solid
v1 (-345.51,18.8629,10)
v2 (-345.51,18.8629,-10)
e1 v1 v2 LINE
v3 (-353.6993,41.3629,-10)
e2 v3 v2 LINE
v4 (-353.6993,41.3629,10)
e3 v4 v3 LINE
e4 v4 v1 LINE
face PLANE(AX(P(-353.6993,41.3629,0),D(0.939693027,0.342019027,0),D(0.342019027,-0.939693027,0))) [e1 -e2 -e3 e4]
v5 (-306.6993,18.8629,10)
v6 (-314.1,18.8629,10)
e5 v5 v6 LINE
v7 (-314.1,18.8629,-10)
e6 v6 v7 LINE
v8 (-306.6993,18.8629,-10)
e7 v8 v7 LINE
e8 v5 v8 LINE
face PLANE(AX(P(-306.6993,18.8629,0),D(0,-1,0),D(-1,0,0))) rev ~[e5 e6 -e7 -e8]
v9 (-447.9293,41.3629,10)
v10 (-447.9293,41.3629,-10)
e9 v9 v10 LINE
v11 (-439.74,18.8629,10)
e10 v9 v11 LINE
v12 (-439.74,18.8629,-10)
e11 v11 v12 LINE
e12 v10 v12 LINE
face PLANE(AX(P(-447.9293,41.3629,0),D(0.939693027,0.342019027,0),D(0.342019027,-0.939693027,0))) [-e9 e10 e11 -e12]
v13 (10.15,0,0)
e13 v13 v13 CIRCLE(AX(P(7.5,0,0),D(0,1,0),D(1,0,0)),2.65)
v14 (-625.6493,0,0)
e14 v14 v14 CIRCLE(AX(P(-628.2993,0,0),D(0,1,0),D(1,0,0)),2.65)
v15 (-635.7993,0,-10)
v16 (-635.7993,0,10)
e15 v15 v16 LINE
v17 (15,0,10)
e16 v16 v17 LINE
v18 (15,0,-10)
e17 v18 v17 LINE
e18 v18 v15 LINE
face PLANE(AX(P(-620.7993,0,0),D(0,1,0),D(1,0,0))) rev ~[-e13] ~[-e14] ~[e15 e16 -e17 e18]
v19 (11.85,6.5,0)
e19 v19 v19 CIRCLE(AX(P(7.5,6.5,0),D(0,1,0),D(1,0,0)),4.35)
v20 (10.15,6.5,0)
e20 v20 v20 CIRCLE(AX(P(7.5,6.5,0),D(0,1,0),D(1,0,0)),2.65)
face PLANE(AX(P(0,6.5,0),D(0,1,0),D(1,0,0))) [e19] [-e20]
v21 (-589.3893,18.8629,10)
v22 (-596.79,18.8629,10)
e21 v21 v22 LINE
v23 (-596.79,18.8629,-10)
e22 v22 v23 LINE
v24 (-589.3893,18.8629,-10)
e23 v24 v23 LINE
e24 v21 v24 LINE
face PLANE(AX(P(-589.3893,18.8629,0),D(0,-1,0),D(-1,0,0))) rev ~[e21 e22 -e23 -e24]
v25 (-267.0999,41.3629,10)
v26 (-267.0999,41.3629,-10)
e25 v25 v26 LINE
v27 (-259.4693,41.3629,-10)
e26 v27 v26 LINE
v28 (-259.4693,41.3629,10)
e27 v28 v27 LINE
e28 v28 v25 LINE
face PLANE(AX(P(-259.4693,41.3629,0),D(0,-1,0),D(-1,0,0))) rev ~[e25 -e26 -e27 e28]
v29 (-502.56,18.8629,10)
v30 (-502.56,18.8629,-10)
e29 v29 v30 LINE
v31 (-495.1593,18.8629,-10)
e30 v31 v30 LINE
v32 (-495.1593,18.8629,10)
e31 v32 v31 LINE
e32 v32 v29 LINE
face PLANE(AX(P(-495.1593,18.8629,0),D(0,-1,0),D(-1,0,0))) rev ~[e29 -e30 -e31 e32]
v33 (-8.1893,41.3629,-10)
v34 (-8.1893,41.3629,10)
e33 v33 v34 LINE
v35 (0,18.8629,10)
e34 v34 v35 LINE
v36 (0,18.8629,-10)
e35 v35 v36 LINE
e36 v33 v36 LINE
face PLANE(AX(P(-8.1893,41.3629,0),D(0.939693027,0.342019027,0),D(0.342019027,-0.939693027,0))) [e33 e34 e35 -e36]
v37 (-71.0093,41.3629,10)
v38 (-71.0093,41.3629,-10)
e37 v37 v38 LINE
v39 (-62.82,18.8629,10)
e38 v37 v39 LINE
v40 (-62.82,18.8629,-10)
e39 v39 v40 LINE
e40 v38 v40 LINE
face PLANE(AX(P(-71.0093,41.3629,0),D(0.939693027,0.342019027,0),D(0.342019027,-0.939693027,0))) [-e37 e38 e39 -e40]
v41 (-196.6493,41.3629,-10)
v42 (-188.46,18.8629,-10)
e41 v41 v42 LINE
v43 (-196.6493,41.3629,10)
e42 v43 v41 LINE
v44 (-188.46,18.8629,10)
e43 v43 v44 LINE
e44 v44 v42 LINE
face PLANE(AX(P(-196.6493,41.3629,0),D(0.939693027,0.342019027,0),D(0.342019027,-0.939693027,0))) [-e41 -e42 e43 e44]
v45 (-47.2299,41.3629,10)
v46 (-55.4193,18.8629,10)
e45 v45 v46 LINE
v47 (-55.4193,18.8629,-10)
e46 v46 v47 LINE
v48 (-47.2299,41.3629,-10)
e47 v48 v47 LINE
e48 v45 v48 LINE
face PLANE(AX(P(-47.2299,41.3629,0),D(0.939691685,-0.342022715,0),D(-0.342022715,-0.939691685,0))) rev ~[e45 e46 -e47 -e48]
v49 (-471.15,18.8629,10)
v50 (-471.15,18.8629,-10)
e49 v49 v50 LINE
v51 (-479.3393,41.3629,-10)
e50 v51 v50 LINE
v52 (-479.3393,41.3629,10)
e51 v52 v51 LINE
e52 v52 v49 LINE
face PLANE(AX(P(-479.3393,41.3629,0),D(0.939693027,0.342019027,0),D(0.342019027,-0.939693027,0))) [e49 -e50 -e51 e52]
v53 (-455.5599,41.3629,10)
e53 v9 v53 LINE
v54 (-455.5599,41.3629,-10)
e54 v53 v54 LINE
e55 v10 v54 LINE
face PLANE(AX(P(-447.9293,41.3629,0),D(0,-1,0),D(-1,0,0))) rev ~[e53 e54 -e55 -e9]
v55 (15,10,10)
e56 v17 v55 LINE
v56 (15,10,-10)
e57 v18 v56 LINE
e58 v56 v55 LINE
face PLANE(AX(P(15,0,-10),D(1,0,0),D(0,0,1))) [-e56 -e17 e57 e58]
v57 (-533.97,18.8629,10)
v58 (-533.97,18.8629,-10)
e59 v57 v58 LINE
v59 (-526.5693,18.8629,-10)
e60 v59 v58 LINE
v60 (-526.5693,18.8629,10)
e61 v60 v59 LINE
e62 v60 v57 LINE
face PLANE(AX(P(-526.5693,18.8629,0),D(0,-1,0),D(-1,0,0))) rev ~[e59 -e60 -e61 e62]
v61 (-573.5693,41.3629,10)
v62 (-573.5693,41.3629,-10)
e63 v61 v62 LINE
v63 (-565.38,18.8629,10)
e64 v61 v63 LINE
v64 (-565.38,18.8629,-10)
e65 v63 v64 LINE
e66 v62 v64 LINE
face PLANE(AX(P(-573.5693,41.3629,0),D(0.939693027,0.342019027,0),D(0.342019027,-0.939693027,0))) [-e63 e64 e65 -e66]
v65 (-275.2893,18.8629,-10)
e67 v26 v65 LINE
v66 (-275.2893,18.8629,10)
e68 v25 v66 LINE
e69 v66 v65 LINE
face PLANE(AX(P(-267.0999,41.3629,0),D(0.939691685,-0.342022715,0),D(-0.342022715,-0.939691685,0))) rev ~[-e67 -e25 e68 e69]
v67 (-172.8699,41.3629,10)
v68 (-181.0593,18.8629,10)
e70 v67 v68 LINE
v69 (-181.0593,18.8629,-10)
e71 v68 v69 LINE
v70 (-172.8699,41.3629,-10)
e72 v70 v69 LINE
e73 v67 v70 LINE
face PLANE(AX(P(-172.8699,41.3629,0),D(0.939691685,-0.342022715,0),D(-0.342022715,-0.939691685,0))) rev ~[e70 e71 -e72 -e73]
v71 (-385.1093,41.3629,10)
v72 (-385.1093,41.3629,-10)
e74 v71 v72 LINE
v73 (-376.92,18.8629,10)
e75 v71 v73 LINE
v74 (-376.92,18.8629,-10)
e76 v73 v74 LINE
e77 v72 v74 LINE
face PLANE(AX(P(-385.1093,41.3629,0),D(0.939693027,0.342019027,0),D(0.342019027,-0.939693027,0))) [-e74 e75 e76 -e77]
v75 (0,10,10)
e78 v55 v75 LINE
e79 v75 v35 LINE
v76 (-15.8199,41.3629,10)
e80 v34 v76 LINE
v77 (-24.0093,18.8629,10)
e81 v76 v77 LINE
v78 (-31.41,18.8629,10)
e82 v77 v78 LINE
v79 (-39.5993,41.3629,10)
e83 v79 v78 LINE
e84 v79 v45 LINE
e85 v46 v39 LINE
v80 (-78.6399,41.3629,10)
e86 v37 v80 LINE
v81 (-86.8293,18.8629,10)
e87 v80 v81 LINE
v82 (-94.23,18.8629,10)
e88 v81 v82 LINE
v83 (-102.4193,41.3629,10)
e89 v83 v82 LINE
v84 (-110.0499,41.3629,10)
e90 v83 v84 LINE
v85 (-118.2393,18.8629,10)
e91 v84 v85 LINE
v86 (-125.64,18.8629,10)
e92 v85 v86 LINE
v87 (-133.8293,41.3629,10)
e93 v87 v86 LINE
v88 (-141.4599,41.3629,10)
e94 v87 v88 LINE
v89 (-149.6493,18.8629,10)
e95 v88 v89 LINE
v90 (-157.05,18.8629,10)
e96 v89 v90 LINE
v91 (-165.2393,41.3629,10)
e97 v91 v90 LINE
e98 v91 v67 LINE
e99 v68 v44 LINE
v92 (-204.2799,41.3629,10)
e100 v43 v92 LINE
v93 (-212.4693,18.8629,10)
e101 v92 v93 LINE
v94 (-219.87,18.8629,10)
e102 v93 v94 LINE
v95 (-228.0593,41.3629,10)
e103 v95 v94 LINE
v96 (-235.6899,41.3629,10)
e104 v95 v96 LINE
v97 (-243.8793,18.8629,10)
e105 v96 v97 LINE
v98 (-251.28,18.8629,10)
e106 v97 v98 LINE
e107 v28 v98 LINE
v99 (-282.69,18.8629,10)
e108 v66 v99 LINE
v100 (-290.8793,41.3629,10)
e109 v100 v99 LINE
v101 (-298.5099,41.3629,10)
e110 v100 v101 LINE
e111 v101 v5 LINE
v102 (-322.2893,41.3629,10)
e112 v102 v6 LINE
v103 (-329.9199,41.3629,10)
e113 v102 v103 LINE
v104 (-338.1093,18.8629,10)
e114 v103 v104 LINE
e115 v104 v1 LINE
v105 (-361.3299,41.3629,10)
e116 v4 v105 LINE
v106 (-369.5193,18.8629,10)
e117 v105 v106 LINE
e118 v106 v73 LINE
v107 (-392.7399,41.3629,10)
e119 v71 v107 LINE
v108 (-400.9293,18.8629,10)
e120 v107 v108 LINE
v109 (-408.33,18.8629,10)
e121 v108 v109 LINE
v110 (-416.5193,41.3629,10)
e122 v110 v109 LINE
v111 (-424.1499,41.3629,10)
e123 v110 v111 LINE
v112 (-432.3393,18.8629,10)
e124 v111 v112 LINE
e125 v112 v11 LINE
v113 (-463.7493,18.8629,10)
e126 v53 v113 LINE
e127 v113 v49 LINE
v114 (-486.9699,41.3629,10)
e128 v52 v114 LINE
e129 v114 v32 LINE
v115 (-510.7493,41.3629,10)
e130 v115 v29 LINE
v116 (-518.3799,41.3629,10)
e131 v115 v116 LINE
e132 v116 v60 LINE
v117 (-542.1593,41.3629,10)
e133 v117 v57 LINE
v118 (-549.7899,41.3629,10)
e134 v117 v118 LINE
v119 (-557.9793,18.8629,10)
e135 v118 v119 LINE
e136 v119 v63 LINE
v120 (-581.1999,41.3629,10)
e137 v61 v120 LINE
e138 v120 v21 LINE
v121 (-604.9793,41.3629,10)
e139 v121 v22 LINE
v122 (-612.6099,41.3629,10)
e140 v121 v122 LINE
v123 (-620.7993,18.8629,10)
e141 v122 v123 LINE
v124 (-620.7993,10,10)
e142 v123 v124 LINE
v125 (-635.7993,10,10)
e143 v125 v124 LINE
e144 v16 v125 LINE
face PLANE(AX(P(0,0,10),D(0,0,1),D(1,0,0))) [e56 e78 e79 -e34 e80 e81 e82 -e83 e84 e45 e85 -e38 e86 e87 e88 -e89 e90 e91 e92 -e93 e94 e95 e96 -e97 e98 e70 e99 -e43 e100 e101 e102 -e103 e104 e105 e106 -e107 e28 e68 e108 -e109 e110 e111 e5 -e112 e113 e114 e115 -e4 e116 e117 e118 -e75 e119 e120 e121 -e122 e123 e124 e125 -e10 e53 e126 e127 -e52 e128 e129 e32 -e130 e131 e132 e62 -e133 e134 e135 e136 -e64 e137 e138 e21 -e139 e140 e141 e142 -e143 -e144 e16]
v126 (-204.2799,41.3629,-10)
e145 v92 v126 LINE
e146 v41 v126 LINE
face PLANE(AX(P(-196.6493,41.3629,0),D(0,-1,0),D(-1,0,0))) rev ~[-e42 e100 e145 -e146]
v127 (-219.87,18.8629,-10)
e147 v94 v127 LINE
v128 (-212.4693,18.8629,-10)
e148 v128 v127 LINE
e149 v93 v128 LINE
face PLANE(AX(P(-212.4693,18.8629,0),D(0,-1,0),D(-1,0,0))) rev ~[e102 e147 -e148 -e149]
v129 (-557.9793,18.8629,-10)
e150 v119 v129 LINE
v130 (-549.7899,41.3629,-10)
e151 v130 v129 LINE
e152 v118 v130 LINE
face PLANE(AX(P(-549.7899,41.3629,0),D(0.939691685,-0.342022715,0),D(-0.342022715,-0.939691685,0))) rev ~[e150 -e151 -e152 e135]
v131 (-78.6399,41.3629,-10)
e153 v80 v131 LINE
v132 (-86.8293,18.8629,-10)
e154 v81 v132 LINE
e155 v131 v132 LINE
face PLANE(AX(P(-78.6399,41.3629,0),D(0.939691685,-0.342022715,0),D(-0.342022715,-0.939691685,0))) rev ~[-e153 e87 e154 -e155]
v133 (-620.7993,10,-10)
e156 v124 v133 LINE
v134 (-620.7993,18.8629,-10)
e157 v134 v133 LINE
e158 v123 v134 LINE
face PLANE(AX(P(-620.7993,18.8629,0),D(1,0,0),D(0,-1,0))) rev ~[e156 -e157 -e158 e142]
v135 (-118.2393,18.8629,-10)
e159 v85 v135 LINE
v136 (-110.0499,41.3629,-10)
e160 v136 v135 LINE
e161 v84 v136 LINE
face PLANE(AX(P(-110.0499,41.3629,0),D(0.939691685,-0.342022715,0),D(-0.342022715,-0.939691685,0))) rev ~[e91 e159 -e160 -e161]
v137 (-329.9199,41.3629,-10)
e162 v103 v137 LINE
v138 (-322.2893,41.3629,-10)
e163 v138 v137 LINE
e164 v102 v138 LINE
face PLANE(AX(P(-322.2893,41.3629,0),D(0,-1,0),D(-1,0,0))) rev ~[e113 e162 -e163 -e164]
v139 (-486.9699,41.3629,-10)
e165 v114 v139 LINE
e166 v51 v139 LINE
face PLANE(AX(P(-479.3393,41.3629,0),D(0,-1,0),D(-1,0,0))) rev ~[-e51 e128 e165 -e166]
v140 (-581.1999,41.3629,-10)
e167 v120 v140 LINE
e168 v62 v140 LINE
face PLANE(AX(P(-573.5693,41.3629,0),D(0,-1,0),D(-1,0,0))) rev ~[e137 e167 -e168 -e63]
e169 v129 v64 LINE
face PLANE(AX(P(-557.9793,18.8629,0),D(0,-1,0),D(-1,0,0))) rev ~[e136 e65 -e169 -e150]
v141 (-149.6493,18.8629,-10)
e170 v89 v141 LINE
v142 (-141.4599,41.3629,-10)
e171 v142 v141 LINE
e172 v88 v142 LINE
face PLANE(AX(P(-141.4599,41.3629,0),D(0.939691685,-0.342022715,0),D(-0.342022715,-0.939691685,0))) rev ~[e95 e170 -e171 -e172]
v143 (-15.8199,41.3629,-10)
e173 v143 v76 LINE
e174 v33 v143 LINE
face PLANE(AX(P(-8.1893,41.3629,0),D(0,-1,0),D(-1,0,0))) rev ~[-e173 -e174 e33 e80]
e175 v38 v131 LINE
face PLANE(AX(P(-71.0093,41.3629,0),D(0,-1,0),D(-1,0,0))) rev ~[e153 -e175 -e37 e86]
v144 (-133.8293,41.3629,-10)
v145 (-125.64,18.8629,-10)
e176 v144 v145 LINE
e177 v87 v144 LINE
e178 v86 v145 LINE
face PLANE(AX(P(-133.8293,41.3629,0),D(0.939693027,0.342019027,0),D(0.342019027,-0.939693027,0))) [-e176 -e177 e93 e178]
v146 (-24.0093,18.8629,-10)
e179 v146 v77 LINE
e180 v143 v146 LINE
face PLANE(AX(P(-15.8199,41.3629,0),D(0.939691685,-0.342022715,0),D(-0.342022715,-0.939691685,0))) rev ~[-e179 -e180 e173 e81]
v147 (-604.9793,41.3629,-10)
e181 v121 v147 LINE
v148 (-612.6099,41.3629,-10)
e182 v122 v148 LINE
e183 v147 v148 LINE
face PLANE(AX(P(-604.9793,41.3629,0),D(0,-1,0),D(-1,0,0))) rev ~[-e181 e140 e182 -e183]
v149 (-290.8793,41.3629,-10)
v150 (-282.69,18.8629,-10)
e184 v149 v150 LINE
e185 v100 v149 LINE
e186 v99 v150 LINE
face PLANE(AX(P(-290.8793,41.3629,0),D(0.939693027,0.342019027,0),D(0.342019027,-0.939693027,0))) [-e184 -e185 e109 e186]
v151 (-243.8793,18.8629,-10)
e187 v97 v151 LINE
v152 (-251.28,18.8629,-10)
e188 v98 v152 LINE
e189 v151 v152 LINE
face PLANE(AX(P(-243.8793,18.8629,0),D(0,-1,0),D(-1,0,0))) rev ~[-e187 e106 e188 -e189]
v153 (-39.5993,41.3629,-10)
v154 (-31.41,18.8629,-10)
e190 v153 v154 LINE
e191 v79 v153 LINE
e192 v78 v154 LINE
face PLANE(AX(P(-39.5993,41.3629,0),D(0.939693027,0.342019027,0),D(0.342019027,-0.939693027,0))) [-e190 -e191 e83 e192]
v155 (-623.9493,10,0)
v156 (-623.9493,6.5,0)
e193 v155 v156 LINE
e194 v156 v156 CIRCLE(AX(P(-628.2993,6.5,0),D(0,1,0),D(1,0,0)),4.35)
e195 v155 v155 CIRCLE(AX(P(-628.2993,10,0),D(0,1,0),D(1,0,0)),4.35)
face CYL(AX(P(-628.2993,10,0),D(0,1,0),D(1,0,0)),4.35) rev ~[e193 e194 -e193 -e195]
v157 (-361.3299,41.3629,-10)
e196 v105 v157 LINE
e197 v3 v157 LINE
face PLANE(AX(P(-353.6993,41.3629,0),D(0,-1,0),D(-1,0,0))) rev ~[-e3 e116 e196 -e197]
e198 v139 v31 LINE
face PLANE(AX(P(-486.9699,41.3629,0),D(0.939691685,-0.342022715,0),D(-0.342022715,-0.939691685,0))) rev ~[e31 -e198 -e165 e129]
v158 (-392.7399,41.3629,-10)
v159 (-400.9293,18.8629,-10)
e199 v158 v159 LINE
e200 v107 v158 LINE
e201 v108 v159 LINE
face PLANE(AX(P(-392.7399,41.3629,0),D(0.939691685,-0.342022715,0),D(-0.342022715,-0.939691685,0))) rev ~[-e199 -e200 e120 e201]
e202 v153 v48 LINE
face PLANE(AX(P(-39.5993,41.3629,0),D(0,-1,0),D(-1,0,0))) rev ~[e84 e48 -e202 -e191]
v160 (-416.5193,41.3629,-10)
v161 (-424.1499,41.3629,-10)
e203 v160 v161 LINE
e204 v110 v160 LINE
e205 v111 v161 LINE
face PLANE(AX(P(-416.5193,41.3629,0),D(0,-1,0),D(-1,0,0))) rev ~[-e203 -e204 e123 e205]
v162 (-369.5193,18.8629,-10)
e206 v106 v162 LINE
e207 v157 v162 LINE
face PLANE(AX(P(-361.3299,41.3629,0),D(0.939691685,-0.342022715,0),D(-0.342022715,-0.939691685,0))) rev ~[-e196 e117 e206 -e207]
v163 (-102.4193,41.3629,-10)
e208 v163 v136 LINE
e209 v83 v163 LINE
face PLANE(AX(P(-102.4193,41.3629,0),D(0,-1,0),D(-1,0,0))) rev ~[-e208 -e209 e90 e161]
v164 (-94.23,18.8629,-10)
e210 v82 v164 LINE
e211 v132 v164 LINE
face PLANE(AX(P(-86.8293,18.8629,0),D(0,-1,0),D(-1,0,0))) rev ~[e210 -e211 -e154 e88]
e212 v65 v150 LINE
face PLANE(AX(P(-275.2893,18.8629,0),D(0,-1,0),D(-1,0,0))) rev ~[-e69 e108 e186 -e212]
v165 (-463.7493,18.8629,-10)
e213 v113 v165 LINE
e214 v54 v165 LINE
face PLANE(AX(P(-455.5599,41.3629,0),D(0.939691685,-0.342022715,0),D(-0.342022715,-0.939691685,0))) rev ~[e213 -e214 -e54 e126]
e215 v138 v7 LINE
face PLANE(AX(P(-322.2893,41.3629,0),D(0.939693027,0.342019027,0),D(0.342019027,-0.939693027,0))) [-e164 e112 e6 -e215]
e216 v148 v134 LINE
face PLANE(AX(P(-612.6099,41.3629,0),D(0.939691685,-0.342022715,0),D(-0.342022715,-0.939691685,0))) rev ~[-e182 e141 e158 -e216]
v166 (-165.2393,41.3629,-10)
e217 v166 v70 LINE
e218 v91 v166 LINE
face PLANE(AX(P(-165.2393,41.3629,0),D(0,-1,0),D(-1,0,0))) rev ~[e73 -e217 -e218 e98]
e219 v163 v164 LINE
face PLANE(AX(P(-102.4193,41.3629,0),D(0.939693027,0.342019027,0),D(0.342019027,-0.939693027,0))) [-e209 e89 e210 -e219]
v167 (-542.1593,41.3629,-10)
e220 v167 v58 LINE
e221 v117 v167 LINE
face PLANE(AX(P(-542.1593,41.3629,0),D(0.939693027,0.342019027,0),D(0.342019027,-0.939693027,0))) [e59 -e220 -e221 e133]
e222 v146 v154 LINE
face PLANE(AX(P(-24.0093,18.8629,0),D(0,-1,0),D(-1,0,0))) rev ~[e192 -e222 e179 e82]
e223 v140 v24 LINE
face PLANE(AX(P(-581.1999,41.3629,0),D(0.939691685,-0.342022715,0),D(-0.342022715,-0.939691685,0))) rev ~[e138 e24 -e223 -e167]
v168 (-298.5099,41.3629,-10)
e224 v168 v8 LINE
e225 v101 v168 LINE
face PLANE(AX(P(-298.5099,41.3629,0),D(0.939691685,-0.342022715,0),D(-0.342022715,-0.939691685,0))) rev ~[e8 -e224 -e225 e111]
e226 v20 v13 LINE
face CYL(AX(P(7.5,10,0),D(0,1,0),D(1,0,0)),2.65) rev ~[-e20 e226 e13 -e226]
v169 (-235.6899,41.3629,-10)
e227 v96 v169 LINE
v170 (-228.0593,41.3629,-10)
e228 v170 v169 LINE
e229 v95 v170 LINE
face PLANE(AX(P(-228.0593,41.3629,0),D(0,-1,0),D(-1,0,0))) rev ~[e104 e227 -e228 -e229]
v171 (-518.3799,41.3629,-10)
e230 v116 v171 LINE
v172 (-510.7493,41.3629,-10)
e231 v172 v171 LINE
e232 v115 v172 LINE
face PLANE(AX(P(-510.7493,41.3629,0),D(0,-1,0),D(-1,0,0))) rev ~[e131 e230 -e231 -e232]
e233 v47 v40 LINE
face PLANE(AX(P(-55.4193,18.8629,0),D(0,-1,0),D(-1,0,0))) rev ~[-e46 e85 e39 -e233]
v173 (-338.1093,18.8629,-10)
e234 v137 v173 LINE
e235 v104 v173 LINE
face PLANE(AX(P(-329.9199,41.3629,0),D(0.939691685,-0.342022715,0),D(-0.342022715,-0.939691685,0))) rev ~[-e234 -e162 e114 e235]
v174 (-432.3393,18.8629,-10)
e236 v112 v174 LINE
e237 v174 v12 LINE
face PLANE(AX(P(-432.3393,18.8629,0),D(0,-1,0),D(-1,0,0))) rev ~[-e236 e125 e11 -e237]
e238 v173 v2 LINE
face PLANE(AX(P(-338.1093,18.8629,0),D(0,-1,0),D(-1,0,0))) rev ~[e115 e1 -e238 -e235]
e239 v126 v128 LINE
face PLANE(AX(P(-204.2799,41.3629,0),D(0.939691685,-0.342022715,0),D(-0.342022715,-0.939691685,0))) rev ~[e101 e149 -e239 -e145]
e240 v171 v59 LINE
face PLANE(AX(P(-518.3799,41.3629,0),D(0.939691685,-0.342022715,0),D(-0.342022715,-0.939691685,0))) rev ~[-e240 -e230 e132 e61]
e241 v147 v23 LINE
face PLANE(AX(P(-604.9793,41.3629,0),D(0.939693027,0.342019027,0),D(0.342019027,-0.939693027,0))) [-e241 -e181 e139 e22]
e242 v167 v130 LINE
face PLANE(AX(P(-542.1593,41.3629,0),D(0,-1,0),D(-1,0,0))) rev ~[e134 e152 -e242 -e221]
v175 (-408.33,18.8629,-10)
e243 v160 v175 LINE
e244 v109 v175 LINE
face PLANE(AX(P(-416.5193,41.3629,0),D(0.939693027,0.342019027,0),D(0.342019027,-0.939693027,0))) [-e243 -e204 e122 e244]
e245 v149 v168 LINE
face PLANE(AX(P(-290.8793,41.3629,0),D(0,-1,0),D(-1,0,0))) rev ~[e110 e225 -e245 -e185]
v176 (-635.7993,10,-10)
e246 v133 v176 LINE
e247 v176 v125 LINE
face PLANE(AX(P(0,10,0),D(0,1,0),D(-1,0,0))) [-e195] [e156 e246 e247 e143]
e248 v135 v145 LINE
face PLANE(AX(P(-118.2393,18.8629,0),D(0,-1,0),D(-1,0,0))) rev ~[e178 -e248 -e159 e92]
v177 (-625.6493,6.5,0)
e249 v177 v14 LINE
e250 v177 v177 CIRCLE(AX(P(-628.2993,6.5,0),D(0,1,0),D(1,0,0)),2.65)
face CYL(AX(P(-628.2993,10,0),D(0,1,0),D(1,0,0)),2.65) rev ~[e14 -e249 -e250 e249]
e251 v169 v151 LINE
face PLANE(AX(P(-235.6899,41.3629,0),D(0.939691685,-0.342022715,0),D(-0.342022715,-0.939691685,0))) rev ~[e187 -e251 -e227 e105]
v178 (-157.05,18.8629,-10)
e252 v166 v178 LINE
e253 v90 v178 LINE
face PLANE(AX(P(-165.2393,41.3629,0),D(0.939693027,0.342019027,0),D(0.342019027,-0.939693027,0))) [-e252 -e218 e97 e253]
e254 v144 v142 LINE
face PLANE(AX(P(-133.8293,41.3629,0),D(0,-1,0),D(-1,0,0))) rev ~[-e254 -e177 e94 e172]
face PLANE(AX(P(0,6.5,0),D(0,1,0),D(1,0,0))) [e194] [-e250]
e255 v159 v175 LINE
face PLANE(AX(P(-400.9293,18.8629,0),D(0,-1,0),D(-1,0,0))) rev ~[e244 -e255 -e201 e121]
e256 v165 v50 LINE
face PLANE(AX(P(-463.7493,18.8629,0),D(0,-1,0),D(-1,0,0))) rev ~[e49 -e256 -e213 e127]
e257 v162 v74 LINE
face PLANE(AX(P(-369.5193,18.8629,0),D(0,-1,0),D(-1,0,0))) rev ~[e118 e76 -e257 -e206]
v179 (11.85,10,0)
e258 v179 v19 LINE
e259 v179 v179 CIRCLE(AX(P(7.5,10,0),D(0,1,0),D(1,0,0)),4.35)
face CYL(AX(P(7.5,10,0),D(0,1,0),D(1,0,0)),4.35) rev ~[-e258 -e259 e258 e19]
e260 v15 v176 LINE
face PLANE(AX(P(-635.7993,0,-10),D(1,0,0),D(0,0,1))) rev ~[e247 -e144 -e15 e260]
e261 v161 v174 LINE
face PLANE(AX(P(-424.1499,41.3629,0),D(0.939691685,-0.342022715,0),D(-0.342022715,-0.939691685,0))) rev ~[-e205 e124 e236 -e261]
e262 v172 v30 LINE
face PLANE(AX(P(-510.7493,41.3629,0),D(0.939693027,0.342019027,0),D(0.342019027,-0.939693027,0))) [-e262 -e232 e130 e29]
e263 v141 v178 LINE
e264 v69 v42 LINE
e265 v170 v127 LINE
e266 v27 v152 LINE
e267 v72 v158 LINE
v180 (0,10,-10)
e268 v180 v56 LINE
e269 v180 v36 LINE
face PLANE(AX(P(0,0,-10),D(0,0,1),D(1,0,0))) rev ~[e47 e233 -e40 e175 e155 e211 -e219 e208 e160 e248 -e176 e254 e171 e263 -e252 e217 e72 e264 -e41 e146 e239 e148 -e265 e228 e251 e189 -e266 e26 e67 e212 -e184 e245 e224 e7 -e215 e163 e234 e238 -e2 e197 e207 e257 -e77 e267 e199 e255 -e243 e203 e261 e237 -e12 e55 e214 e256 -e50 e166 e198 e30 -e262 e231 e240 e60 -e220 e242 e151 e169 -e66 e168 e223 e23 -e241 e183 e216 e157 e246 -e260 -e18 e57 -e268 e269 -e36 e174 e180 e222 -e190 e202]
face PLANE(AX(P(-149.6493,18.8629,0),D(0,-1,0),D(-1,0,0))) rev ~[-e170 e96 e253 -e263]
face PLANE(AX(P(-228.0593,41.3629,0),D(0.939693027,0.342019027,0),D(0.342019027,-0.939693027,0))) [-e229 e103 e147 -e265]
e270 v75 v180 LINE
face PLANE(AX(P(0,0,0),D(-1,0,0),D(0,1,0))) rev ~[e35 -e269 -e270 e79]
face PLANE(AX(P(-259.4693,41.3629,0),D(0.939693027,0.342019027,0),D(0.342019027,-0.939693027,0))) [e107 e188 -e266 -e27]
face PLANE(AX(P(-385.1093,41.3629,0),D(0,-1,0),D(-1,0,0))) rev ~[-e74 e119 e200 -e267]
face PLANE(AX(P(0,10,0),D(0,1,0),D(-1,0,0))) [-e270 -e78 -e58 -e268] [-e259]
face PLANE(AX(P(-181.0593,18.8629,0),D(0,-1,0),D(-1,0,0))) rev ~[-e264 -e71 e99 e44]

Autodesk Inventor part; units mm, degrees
ref_plane "YZ Plane" through (0, 0, 0) normal (1, 0, 0) x (0, 1, 0)
ref_plane "XZ Plane" through (0, 0, 0) normal (0, 1, 0) x (-1, 0, 0)
ref_plane "XY Plane" through (0, 0, 0) normal (0, 0, 1) x (1, 0, 0)
sketch "Sketch1" plane through (0, 0, 0) normal (0, 0, 1) x (1, 0, 0)
  line L0 (-8.1893, 41.3629) -> (-15.8199, 41.3629)
  line L1 (-8.1893, 41.3629) -> (0, 18.8629)
  line L2 (-8.1893, 41.3629) -> (26.4246, 41.3629) construction
  line L3 (-4.5496, 31.3629) -> (-19.4596, 31.3629) construction
  line L4 (-12.0046, 31.3629) -> (-12.0046, 41.3629) construction
  line L5 (-15.8199, 41.3629) -> (-24.0093, 18.8629)
  line L6 (-39.5993, 41.3629) -> (-47.2299, 41.3629)
  line L7 (-39.5993, 41.3629) -> (-31.41, 18.8629)
  line L8 (-39.5993, 41.3629) -> (-4.9854, 41.3629) construction
  line L9 (-35.9596, 31.3629) -> (-50.8696, 31.3629) construction
  line L10 (-43.4146, 31.3629) -> (-43.4146, 41.3629) construction
  line L11 (-47.2299, 41.3629) -> (-55.4193, 18.8629)
  line L12 (-71.0093, 41.3629) -> (-78.6399, 41.3629)
  line L13 (-71.0093, 41.3629) -> (-62.82, 18.8629)
  line L14 (-71.0093, 41.3629) -> (-36.3954, 41.3629) construction
  line L15 (-67.3696, 31.3629) -> (-82.2796, 31.3629) construction
  line L16 (-74.8246, 31.3629) -> (-74.8246, 41.3629) construction
  line L17 (-78.6399, 41.3629) -> (-86.8293, 18.8629)
  line L18 (-102.4193, 41.3629) -> (-110.0499, 41.3629)
  line L19 (-102.4193, 41.3629) -> (-94.23, 18.8629)
  line L20 (-102.4193, 41.3629) -> (-67.8054, 41.3629) construction
  line L21 (-98.7796, 31.3629) -> (-113.6896, 31.3629) construction
  line L22 (-106.2346, 31.3629) -> (-106.2346, 41.3629) construction
  line L23 (-110.0499, 41.3629) -> (-118.2393, 18.8629)
  line L24 (-133.8293, 41.3629) -> (-141.4599, 41.3629)
  line L25 (-133.8293, 41.3629) -> (-125.64, 18.8629)
  line L26 (-133.8293, 41.3629) -> (-99.2154, 41.3629) construction
  line L27 (-130.1896, 31.3629) -> (-145.0996, 31.3629) construction
  line L28 (-137.6446, 31.3629) -> (-137.6446, 41.3629) construction
  line L29 (-141.4599, 41.3629) -> (-149.6493, 18.8629)
  line L30 (-165.2393, 41.3629) -> (-172.8699, 41.3629)
  line L31 (-165.2393, 41.3629) -> (-157.05, 18.8629)
  line L32 (-165.2393, 41.3629) -> (-130.6254, 41.3629) construction
  line L33 (-161.5996, 31.3629) -> (-176.5096, 31.3629) construction
  line L34 (-169.0546, 31.3629) -> (-169.0546, 41.3629) construction
  line L35 (-172.8699, 41.3629) -> (-181.0593, 18.8629)
  line L36 (-196.6493, 41.3629) -> (-204.2799, 41.3629)
  line L37 (-196.6493, 41.3629) -> (-188.46, 18.8629)
  line L38 (-196.6493, 41.3629) -> (-162.0354, 41.3629) construction
  line L39 (-193.0096, 31.3629) -> (-207.9196, 31.3629) construction
  line L40 (-200.4646, 31.3629) -> (-200.4646, 41.3629) construction
  line L41 (-204.2799, 41.3629) -> (-212.4693, 18.8629)
  line L42 (-228.0593, 41.3629) -> (-235.6899, 41.3629)
  line L43 (-228.0593, 41.3629) -> (-219.87, 18.8629)
  line L44 (-228.0593, 41.3629) -> (-193.4454, 41.3629) construction
  line L45 (-224.4196, 31.3629) -> (-239.3296, 31.3629) construction
  line L46 (-231.8746, 31.3629) -> (-231.8746, 41.3629) construction
  line L47 (-235.6899, 41.3629) -> (-243.8793, 18.8629)
  line L48 (-259.4693, 41.3629) -> (-267.0999, 41.3629)
  line L49 (-259.4693, 41.3629) -> (-251.28, 18.8629)
  line L50 (-259.4693, 41.3629) -> (-224.8554, 41.3629) construction
  line L51 (-255.8296, 31.3629) -> (-270.7396, 31.3629) construction
  line L52 (-263.2846, 31.3629) -> (-263.2846, 41.3629) construction
  line L53 (-267.0999, 41.3629) -> (-275.2893, 18.8629)
  line L54 (-290.8793, 41.3629) -> (-298.5099, 41.3629)
  line L55 (-290.8793, 41.3629) -> (-282.69, 18.8629)
  line L56 (-290.8793, 41.3629) -> (-256.2654, 41.3629) construction
  line L57 (-287.2396, 31.3629) -> (-302.1496, 31.3629) construction
  line L58 (-294.6946, 31.3629) -> (-294.6946, 41.3629) construction
  line L59 (-298.5099, 41.3629) -> (-306.6993, 18.8629)
  line L60 (-322.2893, 41.3629) -> (-329.9199, 41.3629)
  line L61 (-322.2893, 41.3629) -> (-314.1, 18.8629)
  line L62 (-322.2893, 41.3629) -> (-287.6754, 41.3629) construction
  line L63 (-318.6496, 31.3629) -> (-333.5596, 31.3629) construction
  line L64 (-326.1046, 31.3629) -> (-326.1046, 41.3629) construction
  line L65 (-329.9199, 41.3629) -> (-338.1093, 18.8629)
  line L66 (-353.6993, 41.3629) -> (-361.3299, 41.3629)
  line L67 (-353.6993, 41.3629) -> (-345.51, 18.8629)
  line L68 (-353.6993, 41.3629) -> (-319.0854, 41.3629) construction
  line L69 (-350.0596, 31.3629) -> (-364.9696, 31.3629) construction
  line L70 (-357.5146, 31.3629) -> (-357.5146, 41.3629) construction
  line L71 (-361.3299, 41.3629) -> (-369.5193, 18.8629)
  line L72 (-385.1093, 41.3629) -> (-392.7399, 41.3629)
  line L73 (-385.1093, 41.3629) -> (-376.92, 18.8629)
  line L74 (-385.1093, 41.3629) -> (-350.4954, 41.3629) construction
  line L75 (-381.4696, 31.3629) -> (-396.3796, 31.3629) construction
  line L76 (-388.9246, 31.3629) -> (-388.9246, 41.3629) construction
  line L77 (-392.7399, 41.3629) -> (-400.9293, 18.8629)
  line L78 (-416.5193, 41.3629) -> (-424.1499, 41.3629)
  line L79 (-416.5193, 41.3629) -> (-408.33, 18.8629)
  line L80 (-416.5193, 41.3629) -> (-381.9054, 41.3629) construction
  line L81 (-412.8796, 31.3629) -> (-427.7896, 31.3629) construction
  line L82 (-420.3346, 31.3629) -> (-420.3346, 41.3629) construction
  line L83 (-424.1499, 41.3629) -> (-432.3393, 18.8629)
  line L84 (-447.9293, 41.3629) -> (-455.5599, 41.3629)
  line L85 (-447.9293, 41.3629) -> (-439.74, 18.8629)
  line L86 (-447.9293, 41.3629) -> (-413.3154, 41.3629) construction
  line L87 (-444.2896, 31.3629) -> (-459.1996, 31.3629) construction
  line L88 (-451.7446, 31.3629) -> (-451.7446, 41.3629) construction
  line L89 (-455.5599, 41.3629) -> (-463.7493, 18.8629)
  line L90 (-479.3393, 41.3629) -> (-486.9699, 41.3629)
  line L91 (-479.3393, 41.3629) -> (-471.15, 18.8629)
  line L92 (-479.3393, 41.3629) -> (-444.7254, 41.3629) construction
  line L93 (-475.6996, 31.3629) -> (-490.6096, 31.3629) construction
  line L94 (-483.1546, 31.3629) -> (-483.1546, 41.3629) construction
  line L95 (-486.9699, 41.3629) -> (-495.1593, 18.8629)
  line L96 (-510.7493, 41.3629) -> (-518.3799, 41.3629)
  line L97 (-510.7493, 41.3629) -> (-502.56, 18.8629)
  line L98 (-510.7493, 41.3629) -> (-476.1354, 41.3629) construction
  line L99 (-507.1096, 31.3629) -> (-522.0196, 31.3629) construction
  line L100 (-514.5646, 31.3629) -> (-514.5646, 41.3629) construction
  line L101 (-518.3799, 41.3629) -> (-526.5693, 18.8629)
  line L102 (-542.1593, 41.3629) -> (-549.7899, 41.3629)
  line L103 (-542.1593, 41.3629) -> (-533.97, 18.8629)
  line L104 (-542.1593, 41.3629) -> (-507.5454, 41.3629) construction
  line L105 (-538.5196, 31.3629) -> (-553.4296, 31.3629) construction
  line L106 (-545.9746, 31.3629) -> (-545.9746, 41.3629) construction
  line L107 (-549.7899, 41.3629) -> (-557.9793, 18.8629)
  line L108 (-573.5693, 41.3629) -> (-581.1999, 41.3629)
  line L109 (-573.5693, 41.3629) -> (-565.38, 18.8629)
  line L110 (-573.5693, 41.3629) -> (-538.9554, 41.3629) construction
  line L111 (-569.9296, 31.3629) -> (-584.8396, 31.3629) construction
  line L112 (-577.3846, 31.3629) -> (-577.3846, 41.3629) construction
  line L113 (-581.1999, 41.3629) -> (-589.3893, 18.8629)
  line L114 (-604.9793, 41.3629) -> (-612.6099, 41.3629)
  line L115 (-604.9793, 41.3629) -> (-596.79, 18.8629)
  line L116 (-604.9793, 41.3629) -> (-570.3654, 41.3629) construction
  line L117 (-601.3396, 31.3629) -> (-616.2496, 31.3629) construction
  line L118 (-608.7946, 31.3629) -> (-608.7946, 41.3629) construction
  line L119 (-612.6099, 41.3629) -> (-620.7993, 18.8629)
  line L120 (-620.7993, 18.8629) -> (-620.7993, 0)
  line L121 (-620.7993, 0) -> (0, 0)
  line L122 (0, 0) -> (0, 18.8629)
  line L123 (-24.0093, 18.8629) -> (-31.41, 18.8629)
  line L124 (-55.4193, 18.8629) -> (-62.82, 18.8629)
  line L125 (-86.8293, 18.8629) -> (-94.23, 18.8629)
  line L126 (-118.2393, 18.8629) -> (-125.64, 18.8629)
  line L127 (-149.6493, 18.8629) -> (-157.05, 18.8629)
  line L128 (-181.0593, 18.8629) -> (-188.46, 18.8629)
  line L129 (-212.4693, 18.8629) -> (-219.87, 18.8629)
  line L130 (-243.8793, 18.8629) -> (-251.28, 18.8629)
  line L131 (-275.2893, 18.8629) -> (-282.69, 18.8629)
  line L132 (-306.6993, 18.8629) -> (-314.1, 18.8629)
  line L133 (-338.1093, 18.8629) -> (-345.51, 18.8629)
  line L134 (-369.5193, 18.8629) -> (-376.92, 18.8629)
  line L135 (-400.9293, 18.8629) -> (-408.33, 18.8629)
  line L136 (-432.3393, 18.8629) -> (-439.74, 18.8629)
  line L137 (-463.7493, 18.8629) -> (-471.15, 18.8629)
  line L138 (-495.1593, 18.8629) -> (-502.56, 18.8629)
  line L139 (-526.5693, 18.8629) -> (-533.97, 18.8629)
  line L140 (-557.9793, 18.8629) -> (-565.38, 18.8629)
  line L141 (-589.3893, 18.8629) -> (-596.79, 18.8629)
  point P0 (2.0713, 13.1721)
  point P1 (-26.0805, 13.1721)
  point P2 (-29.3387, 13.1721)
  point P3 (-57.4905, 13.1721)
  point P4 (-60.7487, 13.1721)
  point P5 (-88.9005, 13.1721)
  point P6 (-92.1587, 13.1721)
  point P7 (-120.3105, 13.1721)
  point P8 (-123.5687, 13.1721)
  point P9 (-151.7205, 13.1721)
  point P10 (-154.9787, 13.1721)
  point P11 (-183.1305, 13.1721)
  point P12 (-186.3887, 13.1721)
  point P13 (-214.5405, 13.1721)
  point P14 (-217.7987, 13.1721)
  point P15 (-245.9505, 13.1721)
  point P16 (-249.2087, 13.1721)
  point P17 (-277.3605, 13.1721)
  point P18 (-280.6187, 13.1721)
  point P19 (-308.7705, 13.1721)
  point P20 (-312.0287, 13.1721)
  point P21 (-340.1805, 13.1721)
  point P22 (-343.4387, 13.1721)
  point P23 (-371.5905, 13.1721)
  point P24 (-374.8487, 13.1721)
  point P25 (-403.0005, 13.1721)
  point P26 (-406.2587, 13.1721)
  point P27 (-434.4105, 13.1721)
  point P28 (-437.6687, 13.1721)
  point P29 (-465.8205, 13.1721)
  point P30 (-469.0787, 13.1721)
  point P31 (-497.2305, 13.1721)
  point P32 (-500.4887, 13.1721)
  point P33 (-528.6405, 13.1721)
  point P34 (-531.8987, 13.1721)
  point P35 (-560.0505, 13.1721)
  point P36 (-563.3087, 13.1721)
  point P37 (-591.4605, 13.1721)
  point P38 (-594.7187, 13.1721)
  point P39 (-622.8705, 13.1721)
  point P40 (-59.1196, 18.8629)
  point P41 (0, 9.4315)
  dimension "d3" = 30
  dimension "d4" = 70
  dimension "d5" = 14.91
  dimension "d8" = 31.41
  dimension "d14" = 620.7993
  dimension "d15" = 18.8629
  dimension "d16" = 18.8629
  dimension "d18" = 13.1722
  dimension "d19" = 13.1722
  dimension "d20" = 24.0093
  dimension "d21" = 22.5
  dimension "d22" = 23.944
  dimension "d23" = 3.0107
  dimension "d24" = 18.8629
extrude "Extrusion1" add sketch "Sketch1" along normal mid plane 20
sketch "Sketch2" plane through (0, 0, 0) normal (0, 1, 0) x (-1, 0, 0)
  line L0 (8.1893, -10) -> (8.1893, 10) construction
  line L1 (0, 10) -> (8.1893, 10) construction
  line L2 (0, -10) -> (0, 10) construction
  line L3 (8.1893, -10) -> (0, -10) construction
  line L4 (0, -10) -> (-15, -10)
  line L5 (-15, -10) -> (-15, 10)
  line L6 (-15, 10) -> (0, 10)
  line L7 (0, 10) -> (0, -10)
  line L8 (620.7993, -10) -> (620.7993, 10) construction
  line L9 (612.6099, 10) -> (620.7993, 10) construction
  line L10 (612.6099, 10) -> (612.6099, -10) construction
  line L11 (620.7993, -10) -> (612.6099, -10) construction
  line L12 (620.7993, -10) -> (635.7993, -10)
  line L13 (635.7993, -10) -> (635.7993, 10)
  line L14 (635.7993, 10) -> (620.7993, 10)
  line L15 (620.7993, 10) -> (620.7993, -10)
  point P0 (0, 0)
  dimension "d27" = 15
  dimension "d28" = 20
  dimension "d29" = 15
  dimension "d30" = 20
extrude "Extrusion2" add sketch "Sketch2" along normal blind 10
sketch "Sketch3" plane through (0, 10, 0) normal (0, 1, 0) x (1, 0, 0)
  line L0 (0, -10) -> (15, -10) construction
  line L1 (15, -10) -> (15, 10) construction
  line L2 (15, 10) -> (0, 10) construction
  line L3 (0, -10) -> (0, 10) construction
  line L4 (-635.7993, 10) -> (-635.7993, -10) construction
  line L5 (-635.7993, -10) -> (-620.7993, -10) construction
  line L6 (-620.7993, 10) -> (-620.7993, -10) construction
  line L7 (-620.7993, 10) -> (-635.7993, 10) construction
  line L8 (15, 10) -> (-635.7993, 10) construction
  line L9 (-635.7993, -10) -> (15, -10) construction
  line L10 (-310.3996, -10) -> (-310.3996, 10) construction
  circle A0 centre (7.5, 0) radius 2.65
  circle A1 centre (-628.2993, 0) radius 2.65
  point P0 (0, 0)
  point P1 (0, -12.5)
  point P2 (-620.7993, -12.5)
  point P3 (0, 0)
  point P4 (7.5, 10)
  dimension "d33" = 5.3
extrude "Extrusion3" cut sketch "Sketch3" against normal through all
sketch "Sketch4" plane through (0, 10, 0) normal (0, 1, 0) x (1, 0, 0)
  circle A0 centre (-628.2993, 0) radius 2.65 construction
  line L0 (-635.7993, 10) -> (-635.7993, -10) construction
  line L1 (-635.7993, -10) -> (-620.7993, -10) construction
  line L2 (-620.7993, 10) -> (-620.7993, -10) construction
  line L3 (-620.7993, 10) -> (-635.7993, 10) construction
  circle A1 centre (7.5, 0) radius 2.65 construction
  line L4 (0, -10) -> (15, -10) construction
  line L5 (15, -10) -> (15, 10) construction
  line L6 (15, 10) -> (0, 10) construction
  line L7 (0, -10) -> (0, 10) construction
  line L8 (15, 10) -> (-635.7993, 10) construction
  line L9 (-635.7993, -10) -> (15, -10) construction
  line L10 (-310.3996, 10) -> (-310.3996, -10) construction
  circle A2 centre (7.5, 0) radius 4.35
  circle A3 centre (-628.2993, 0) radius 4.35
  point P0 (0, 0)
  point P1 (-620.7993, -12.5)
  point P2 (0, -12.5)
  dimension "d36" = 8.7
extrude "Extrusion4" cut sketch "Sketch4" against normal blind 3.5
properties part number "cremallera1"
